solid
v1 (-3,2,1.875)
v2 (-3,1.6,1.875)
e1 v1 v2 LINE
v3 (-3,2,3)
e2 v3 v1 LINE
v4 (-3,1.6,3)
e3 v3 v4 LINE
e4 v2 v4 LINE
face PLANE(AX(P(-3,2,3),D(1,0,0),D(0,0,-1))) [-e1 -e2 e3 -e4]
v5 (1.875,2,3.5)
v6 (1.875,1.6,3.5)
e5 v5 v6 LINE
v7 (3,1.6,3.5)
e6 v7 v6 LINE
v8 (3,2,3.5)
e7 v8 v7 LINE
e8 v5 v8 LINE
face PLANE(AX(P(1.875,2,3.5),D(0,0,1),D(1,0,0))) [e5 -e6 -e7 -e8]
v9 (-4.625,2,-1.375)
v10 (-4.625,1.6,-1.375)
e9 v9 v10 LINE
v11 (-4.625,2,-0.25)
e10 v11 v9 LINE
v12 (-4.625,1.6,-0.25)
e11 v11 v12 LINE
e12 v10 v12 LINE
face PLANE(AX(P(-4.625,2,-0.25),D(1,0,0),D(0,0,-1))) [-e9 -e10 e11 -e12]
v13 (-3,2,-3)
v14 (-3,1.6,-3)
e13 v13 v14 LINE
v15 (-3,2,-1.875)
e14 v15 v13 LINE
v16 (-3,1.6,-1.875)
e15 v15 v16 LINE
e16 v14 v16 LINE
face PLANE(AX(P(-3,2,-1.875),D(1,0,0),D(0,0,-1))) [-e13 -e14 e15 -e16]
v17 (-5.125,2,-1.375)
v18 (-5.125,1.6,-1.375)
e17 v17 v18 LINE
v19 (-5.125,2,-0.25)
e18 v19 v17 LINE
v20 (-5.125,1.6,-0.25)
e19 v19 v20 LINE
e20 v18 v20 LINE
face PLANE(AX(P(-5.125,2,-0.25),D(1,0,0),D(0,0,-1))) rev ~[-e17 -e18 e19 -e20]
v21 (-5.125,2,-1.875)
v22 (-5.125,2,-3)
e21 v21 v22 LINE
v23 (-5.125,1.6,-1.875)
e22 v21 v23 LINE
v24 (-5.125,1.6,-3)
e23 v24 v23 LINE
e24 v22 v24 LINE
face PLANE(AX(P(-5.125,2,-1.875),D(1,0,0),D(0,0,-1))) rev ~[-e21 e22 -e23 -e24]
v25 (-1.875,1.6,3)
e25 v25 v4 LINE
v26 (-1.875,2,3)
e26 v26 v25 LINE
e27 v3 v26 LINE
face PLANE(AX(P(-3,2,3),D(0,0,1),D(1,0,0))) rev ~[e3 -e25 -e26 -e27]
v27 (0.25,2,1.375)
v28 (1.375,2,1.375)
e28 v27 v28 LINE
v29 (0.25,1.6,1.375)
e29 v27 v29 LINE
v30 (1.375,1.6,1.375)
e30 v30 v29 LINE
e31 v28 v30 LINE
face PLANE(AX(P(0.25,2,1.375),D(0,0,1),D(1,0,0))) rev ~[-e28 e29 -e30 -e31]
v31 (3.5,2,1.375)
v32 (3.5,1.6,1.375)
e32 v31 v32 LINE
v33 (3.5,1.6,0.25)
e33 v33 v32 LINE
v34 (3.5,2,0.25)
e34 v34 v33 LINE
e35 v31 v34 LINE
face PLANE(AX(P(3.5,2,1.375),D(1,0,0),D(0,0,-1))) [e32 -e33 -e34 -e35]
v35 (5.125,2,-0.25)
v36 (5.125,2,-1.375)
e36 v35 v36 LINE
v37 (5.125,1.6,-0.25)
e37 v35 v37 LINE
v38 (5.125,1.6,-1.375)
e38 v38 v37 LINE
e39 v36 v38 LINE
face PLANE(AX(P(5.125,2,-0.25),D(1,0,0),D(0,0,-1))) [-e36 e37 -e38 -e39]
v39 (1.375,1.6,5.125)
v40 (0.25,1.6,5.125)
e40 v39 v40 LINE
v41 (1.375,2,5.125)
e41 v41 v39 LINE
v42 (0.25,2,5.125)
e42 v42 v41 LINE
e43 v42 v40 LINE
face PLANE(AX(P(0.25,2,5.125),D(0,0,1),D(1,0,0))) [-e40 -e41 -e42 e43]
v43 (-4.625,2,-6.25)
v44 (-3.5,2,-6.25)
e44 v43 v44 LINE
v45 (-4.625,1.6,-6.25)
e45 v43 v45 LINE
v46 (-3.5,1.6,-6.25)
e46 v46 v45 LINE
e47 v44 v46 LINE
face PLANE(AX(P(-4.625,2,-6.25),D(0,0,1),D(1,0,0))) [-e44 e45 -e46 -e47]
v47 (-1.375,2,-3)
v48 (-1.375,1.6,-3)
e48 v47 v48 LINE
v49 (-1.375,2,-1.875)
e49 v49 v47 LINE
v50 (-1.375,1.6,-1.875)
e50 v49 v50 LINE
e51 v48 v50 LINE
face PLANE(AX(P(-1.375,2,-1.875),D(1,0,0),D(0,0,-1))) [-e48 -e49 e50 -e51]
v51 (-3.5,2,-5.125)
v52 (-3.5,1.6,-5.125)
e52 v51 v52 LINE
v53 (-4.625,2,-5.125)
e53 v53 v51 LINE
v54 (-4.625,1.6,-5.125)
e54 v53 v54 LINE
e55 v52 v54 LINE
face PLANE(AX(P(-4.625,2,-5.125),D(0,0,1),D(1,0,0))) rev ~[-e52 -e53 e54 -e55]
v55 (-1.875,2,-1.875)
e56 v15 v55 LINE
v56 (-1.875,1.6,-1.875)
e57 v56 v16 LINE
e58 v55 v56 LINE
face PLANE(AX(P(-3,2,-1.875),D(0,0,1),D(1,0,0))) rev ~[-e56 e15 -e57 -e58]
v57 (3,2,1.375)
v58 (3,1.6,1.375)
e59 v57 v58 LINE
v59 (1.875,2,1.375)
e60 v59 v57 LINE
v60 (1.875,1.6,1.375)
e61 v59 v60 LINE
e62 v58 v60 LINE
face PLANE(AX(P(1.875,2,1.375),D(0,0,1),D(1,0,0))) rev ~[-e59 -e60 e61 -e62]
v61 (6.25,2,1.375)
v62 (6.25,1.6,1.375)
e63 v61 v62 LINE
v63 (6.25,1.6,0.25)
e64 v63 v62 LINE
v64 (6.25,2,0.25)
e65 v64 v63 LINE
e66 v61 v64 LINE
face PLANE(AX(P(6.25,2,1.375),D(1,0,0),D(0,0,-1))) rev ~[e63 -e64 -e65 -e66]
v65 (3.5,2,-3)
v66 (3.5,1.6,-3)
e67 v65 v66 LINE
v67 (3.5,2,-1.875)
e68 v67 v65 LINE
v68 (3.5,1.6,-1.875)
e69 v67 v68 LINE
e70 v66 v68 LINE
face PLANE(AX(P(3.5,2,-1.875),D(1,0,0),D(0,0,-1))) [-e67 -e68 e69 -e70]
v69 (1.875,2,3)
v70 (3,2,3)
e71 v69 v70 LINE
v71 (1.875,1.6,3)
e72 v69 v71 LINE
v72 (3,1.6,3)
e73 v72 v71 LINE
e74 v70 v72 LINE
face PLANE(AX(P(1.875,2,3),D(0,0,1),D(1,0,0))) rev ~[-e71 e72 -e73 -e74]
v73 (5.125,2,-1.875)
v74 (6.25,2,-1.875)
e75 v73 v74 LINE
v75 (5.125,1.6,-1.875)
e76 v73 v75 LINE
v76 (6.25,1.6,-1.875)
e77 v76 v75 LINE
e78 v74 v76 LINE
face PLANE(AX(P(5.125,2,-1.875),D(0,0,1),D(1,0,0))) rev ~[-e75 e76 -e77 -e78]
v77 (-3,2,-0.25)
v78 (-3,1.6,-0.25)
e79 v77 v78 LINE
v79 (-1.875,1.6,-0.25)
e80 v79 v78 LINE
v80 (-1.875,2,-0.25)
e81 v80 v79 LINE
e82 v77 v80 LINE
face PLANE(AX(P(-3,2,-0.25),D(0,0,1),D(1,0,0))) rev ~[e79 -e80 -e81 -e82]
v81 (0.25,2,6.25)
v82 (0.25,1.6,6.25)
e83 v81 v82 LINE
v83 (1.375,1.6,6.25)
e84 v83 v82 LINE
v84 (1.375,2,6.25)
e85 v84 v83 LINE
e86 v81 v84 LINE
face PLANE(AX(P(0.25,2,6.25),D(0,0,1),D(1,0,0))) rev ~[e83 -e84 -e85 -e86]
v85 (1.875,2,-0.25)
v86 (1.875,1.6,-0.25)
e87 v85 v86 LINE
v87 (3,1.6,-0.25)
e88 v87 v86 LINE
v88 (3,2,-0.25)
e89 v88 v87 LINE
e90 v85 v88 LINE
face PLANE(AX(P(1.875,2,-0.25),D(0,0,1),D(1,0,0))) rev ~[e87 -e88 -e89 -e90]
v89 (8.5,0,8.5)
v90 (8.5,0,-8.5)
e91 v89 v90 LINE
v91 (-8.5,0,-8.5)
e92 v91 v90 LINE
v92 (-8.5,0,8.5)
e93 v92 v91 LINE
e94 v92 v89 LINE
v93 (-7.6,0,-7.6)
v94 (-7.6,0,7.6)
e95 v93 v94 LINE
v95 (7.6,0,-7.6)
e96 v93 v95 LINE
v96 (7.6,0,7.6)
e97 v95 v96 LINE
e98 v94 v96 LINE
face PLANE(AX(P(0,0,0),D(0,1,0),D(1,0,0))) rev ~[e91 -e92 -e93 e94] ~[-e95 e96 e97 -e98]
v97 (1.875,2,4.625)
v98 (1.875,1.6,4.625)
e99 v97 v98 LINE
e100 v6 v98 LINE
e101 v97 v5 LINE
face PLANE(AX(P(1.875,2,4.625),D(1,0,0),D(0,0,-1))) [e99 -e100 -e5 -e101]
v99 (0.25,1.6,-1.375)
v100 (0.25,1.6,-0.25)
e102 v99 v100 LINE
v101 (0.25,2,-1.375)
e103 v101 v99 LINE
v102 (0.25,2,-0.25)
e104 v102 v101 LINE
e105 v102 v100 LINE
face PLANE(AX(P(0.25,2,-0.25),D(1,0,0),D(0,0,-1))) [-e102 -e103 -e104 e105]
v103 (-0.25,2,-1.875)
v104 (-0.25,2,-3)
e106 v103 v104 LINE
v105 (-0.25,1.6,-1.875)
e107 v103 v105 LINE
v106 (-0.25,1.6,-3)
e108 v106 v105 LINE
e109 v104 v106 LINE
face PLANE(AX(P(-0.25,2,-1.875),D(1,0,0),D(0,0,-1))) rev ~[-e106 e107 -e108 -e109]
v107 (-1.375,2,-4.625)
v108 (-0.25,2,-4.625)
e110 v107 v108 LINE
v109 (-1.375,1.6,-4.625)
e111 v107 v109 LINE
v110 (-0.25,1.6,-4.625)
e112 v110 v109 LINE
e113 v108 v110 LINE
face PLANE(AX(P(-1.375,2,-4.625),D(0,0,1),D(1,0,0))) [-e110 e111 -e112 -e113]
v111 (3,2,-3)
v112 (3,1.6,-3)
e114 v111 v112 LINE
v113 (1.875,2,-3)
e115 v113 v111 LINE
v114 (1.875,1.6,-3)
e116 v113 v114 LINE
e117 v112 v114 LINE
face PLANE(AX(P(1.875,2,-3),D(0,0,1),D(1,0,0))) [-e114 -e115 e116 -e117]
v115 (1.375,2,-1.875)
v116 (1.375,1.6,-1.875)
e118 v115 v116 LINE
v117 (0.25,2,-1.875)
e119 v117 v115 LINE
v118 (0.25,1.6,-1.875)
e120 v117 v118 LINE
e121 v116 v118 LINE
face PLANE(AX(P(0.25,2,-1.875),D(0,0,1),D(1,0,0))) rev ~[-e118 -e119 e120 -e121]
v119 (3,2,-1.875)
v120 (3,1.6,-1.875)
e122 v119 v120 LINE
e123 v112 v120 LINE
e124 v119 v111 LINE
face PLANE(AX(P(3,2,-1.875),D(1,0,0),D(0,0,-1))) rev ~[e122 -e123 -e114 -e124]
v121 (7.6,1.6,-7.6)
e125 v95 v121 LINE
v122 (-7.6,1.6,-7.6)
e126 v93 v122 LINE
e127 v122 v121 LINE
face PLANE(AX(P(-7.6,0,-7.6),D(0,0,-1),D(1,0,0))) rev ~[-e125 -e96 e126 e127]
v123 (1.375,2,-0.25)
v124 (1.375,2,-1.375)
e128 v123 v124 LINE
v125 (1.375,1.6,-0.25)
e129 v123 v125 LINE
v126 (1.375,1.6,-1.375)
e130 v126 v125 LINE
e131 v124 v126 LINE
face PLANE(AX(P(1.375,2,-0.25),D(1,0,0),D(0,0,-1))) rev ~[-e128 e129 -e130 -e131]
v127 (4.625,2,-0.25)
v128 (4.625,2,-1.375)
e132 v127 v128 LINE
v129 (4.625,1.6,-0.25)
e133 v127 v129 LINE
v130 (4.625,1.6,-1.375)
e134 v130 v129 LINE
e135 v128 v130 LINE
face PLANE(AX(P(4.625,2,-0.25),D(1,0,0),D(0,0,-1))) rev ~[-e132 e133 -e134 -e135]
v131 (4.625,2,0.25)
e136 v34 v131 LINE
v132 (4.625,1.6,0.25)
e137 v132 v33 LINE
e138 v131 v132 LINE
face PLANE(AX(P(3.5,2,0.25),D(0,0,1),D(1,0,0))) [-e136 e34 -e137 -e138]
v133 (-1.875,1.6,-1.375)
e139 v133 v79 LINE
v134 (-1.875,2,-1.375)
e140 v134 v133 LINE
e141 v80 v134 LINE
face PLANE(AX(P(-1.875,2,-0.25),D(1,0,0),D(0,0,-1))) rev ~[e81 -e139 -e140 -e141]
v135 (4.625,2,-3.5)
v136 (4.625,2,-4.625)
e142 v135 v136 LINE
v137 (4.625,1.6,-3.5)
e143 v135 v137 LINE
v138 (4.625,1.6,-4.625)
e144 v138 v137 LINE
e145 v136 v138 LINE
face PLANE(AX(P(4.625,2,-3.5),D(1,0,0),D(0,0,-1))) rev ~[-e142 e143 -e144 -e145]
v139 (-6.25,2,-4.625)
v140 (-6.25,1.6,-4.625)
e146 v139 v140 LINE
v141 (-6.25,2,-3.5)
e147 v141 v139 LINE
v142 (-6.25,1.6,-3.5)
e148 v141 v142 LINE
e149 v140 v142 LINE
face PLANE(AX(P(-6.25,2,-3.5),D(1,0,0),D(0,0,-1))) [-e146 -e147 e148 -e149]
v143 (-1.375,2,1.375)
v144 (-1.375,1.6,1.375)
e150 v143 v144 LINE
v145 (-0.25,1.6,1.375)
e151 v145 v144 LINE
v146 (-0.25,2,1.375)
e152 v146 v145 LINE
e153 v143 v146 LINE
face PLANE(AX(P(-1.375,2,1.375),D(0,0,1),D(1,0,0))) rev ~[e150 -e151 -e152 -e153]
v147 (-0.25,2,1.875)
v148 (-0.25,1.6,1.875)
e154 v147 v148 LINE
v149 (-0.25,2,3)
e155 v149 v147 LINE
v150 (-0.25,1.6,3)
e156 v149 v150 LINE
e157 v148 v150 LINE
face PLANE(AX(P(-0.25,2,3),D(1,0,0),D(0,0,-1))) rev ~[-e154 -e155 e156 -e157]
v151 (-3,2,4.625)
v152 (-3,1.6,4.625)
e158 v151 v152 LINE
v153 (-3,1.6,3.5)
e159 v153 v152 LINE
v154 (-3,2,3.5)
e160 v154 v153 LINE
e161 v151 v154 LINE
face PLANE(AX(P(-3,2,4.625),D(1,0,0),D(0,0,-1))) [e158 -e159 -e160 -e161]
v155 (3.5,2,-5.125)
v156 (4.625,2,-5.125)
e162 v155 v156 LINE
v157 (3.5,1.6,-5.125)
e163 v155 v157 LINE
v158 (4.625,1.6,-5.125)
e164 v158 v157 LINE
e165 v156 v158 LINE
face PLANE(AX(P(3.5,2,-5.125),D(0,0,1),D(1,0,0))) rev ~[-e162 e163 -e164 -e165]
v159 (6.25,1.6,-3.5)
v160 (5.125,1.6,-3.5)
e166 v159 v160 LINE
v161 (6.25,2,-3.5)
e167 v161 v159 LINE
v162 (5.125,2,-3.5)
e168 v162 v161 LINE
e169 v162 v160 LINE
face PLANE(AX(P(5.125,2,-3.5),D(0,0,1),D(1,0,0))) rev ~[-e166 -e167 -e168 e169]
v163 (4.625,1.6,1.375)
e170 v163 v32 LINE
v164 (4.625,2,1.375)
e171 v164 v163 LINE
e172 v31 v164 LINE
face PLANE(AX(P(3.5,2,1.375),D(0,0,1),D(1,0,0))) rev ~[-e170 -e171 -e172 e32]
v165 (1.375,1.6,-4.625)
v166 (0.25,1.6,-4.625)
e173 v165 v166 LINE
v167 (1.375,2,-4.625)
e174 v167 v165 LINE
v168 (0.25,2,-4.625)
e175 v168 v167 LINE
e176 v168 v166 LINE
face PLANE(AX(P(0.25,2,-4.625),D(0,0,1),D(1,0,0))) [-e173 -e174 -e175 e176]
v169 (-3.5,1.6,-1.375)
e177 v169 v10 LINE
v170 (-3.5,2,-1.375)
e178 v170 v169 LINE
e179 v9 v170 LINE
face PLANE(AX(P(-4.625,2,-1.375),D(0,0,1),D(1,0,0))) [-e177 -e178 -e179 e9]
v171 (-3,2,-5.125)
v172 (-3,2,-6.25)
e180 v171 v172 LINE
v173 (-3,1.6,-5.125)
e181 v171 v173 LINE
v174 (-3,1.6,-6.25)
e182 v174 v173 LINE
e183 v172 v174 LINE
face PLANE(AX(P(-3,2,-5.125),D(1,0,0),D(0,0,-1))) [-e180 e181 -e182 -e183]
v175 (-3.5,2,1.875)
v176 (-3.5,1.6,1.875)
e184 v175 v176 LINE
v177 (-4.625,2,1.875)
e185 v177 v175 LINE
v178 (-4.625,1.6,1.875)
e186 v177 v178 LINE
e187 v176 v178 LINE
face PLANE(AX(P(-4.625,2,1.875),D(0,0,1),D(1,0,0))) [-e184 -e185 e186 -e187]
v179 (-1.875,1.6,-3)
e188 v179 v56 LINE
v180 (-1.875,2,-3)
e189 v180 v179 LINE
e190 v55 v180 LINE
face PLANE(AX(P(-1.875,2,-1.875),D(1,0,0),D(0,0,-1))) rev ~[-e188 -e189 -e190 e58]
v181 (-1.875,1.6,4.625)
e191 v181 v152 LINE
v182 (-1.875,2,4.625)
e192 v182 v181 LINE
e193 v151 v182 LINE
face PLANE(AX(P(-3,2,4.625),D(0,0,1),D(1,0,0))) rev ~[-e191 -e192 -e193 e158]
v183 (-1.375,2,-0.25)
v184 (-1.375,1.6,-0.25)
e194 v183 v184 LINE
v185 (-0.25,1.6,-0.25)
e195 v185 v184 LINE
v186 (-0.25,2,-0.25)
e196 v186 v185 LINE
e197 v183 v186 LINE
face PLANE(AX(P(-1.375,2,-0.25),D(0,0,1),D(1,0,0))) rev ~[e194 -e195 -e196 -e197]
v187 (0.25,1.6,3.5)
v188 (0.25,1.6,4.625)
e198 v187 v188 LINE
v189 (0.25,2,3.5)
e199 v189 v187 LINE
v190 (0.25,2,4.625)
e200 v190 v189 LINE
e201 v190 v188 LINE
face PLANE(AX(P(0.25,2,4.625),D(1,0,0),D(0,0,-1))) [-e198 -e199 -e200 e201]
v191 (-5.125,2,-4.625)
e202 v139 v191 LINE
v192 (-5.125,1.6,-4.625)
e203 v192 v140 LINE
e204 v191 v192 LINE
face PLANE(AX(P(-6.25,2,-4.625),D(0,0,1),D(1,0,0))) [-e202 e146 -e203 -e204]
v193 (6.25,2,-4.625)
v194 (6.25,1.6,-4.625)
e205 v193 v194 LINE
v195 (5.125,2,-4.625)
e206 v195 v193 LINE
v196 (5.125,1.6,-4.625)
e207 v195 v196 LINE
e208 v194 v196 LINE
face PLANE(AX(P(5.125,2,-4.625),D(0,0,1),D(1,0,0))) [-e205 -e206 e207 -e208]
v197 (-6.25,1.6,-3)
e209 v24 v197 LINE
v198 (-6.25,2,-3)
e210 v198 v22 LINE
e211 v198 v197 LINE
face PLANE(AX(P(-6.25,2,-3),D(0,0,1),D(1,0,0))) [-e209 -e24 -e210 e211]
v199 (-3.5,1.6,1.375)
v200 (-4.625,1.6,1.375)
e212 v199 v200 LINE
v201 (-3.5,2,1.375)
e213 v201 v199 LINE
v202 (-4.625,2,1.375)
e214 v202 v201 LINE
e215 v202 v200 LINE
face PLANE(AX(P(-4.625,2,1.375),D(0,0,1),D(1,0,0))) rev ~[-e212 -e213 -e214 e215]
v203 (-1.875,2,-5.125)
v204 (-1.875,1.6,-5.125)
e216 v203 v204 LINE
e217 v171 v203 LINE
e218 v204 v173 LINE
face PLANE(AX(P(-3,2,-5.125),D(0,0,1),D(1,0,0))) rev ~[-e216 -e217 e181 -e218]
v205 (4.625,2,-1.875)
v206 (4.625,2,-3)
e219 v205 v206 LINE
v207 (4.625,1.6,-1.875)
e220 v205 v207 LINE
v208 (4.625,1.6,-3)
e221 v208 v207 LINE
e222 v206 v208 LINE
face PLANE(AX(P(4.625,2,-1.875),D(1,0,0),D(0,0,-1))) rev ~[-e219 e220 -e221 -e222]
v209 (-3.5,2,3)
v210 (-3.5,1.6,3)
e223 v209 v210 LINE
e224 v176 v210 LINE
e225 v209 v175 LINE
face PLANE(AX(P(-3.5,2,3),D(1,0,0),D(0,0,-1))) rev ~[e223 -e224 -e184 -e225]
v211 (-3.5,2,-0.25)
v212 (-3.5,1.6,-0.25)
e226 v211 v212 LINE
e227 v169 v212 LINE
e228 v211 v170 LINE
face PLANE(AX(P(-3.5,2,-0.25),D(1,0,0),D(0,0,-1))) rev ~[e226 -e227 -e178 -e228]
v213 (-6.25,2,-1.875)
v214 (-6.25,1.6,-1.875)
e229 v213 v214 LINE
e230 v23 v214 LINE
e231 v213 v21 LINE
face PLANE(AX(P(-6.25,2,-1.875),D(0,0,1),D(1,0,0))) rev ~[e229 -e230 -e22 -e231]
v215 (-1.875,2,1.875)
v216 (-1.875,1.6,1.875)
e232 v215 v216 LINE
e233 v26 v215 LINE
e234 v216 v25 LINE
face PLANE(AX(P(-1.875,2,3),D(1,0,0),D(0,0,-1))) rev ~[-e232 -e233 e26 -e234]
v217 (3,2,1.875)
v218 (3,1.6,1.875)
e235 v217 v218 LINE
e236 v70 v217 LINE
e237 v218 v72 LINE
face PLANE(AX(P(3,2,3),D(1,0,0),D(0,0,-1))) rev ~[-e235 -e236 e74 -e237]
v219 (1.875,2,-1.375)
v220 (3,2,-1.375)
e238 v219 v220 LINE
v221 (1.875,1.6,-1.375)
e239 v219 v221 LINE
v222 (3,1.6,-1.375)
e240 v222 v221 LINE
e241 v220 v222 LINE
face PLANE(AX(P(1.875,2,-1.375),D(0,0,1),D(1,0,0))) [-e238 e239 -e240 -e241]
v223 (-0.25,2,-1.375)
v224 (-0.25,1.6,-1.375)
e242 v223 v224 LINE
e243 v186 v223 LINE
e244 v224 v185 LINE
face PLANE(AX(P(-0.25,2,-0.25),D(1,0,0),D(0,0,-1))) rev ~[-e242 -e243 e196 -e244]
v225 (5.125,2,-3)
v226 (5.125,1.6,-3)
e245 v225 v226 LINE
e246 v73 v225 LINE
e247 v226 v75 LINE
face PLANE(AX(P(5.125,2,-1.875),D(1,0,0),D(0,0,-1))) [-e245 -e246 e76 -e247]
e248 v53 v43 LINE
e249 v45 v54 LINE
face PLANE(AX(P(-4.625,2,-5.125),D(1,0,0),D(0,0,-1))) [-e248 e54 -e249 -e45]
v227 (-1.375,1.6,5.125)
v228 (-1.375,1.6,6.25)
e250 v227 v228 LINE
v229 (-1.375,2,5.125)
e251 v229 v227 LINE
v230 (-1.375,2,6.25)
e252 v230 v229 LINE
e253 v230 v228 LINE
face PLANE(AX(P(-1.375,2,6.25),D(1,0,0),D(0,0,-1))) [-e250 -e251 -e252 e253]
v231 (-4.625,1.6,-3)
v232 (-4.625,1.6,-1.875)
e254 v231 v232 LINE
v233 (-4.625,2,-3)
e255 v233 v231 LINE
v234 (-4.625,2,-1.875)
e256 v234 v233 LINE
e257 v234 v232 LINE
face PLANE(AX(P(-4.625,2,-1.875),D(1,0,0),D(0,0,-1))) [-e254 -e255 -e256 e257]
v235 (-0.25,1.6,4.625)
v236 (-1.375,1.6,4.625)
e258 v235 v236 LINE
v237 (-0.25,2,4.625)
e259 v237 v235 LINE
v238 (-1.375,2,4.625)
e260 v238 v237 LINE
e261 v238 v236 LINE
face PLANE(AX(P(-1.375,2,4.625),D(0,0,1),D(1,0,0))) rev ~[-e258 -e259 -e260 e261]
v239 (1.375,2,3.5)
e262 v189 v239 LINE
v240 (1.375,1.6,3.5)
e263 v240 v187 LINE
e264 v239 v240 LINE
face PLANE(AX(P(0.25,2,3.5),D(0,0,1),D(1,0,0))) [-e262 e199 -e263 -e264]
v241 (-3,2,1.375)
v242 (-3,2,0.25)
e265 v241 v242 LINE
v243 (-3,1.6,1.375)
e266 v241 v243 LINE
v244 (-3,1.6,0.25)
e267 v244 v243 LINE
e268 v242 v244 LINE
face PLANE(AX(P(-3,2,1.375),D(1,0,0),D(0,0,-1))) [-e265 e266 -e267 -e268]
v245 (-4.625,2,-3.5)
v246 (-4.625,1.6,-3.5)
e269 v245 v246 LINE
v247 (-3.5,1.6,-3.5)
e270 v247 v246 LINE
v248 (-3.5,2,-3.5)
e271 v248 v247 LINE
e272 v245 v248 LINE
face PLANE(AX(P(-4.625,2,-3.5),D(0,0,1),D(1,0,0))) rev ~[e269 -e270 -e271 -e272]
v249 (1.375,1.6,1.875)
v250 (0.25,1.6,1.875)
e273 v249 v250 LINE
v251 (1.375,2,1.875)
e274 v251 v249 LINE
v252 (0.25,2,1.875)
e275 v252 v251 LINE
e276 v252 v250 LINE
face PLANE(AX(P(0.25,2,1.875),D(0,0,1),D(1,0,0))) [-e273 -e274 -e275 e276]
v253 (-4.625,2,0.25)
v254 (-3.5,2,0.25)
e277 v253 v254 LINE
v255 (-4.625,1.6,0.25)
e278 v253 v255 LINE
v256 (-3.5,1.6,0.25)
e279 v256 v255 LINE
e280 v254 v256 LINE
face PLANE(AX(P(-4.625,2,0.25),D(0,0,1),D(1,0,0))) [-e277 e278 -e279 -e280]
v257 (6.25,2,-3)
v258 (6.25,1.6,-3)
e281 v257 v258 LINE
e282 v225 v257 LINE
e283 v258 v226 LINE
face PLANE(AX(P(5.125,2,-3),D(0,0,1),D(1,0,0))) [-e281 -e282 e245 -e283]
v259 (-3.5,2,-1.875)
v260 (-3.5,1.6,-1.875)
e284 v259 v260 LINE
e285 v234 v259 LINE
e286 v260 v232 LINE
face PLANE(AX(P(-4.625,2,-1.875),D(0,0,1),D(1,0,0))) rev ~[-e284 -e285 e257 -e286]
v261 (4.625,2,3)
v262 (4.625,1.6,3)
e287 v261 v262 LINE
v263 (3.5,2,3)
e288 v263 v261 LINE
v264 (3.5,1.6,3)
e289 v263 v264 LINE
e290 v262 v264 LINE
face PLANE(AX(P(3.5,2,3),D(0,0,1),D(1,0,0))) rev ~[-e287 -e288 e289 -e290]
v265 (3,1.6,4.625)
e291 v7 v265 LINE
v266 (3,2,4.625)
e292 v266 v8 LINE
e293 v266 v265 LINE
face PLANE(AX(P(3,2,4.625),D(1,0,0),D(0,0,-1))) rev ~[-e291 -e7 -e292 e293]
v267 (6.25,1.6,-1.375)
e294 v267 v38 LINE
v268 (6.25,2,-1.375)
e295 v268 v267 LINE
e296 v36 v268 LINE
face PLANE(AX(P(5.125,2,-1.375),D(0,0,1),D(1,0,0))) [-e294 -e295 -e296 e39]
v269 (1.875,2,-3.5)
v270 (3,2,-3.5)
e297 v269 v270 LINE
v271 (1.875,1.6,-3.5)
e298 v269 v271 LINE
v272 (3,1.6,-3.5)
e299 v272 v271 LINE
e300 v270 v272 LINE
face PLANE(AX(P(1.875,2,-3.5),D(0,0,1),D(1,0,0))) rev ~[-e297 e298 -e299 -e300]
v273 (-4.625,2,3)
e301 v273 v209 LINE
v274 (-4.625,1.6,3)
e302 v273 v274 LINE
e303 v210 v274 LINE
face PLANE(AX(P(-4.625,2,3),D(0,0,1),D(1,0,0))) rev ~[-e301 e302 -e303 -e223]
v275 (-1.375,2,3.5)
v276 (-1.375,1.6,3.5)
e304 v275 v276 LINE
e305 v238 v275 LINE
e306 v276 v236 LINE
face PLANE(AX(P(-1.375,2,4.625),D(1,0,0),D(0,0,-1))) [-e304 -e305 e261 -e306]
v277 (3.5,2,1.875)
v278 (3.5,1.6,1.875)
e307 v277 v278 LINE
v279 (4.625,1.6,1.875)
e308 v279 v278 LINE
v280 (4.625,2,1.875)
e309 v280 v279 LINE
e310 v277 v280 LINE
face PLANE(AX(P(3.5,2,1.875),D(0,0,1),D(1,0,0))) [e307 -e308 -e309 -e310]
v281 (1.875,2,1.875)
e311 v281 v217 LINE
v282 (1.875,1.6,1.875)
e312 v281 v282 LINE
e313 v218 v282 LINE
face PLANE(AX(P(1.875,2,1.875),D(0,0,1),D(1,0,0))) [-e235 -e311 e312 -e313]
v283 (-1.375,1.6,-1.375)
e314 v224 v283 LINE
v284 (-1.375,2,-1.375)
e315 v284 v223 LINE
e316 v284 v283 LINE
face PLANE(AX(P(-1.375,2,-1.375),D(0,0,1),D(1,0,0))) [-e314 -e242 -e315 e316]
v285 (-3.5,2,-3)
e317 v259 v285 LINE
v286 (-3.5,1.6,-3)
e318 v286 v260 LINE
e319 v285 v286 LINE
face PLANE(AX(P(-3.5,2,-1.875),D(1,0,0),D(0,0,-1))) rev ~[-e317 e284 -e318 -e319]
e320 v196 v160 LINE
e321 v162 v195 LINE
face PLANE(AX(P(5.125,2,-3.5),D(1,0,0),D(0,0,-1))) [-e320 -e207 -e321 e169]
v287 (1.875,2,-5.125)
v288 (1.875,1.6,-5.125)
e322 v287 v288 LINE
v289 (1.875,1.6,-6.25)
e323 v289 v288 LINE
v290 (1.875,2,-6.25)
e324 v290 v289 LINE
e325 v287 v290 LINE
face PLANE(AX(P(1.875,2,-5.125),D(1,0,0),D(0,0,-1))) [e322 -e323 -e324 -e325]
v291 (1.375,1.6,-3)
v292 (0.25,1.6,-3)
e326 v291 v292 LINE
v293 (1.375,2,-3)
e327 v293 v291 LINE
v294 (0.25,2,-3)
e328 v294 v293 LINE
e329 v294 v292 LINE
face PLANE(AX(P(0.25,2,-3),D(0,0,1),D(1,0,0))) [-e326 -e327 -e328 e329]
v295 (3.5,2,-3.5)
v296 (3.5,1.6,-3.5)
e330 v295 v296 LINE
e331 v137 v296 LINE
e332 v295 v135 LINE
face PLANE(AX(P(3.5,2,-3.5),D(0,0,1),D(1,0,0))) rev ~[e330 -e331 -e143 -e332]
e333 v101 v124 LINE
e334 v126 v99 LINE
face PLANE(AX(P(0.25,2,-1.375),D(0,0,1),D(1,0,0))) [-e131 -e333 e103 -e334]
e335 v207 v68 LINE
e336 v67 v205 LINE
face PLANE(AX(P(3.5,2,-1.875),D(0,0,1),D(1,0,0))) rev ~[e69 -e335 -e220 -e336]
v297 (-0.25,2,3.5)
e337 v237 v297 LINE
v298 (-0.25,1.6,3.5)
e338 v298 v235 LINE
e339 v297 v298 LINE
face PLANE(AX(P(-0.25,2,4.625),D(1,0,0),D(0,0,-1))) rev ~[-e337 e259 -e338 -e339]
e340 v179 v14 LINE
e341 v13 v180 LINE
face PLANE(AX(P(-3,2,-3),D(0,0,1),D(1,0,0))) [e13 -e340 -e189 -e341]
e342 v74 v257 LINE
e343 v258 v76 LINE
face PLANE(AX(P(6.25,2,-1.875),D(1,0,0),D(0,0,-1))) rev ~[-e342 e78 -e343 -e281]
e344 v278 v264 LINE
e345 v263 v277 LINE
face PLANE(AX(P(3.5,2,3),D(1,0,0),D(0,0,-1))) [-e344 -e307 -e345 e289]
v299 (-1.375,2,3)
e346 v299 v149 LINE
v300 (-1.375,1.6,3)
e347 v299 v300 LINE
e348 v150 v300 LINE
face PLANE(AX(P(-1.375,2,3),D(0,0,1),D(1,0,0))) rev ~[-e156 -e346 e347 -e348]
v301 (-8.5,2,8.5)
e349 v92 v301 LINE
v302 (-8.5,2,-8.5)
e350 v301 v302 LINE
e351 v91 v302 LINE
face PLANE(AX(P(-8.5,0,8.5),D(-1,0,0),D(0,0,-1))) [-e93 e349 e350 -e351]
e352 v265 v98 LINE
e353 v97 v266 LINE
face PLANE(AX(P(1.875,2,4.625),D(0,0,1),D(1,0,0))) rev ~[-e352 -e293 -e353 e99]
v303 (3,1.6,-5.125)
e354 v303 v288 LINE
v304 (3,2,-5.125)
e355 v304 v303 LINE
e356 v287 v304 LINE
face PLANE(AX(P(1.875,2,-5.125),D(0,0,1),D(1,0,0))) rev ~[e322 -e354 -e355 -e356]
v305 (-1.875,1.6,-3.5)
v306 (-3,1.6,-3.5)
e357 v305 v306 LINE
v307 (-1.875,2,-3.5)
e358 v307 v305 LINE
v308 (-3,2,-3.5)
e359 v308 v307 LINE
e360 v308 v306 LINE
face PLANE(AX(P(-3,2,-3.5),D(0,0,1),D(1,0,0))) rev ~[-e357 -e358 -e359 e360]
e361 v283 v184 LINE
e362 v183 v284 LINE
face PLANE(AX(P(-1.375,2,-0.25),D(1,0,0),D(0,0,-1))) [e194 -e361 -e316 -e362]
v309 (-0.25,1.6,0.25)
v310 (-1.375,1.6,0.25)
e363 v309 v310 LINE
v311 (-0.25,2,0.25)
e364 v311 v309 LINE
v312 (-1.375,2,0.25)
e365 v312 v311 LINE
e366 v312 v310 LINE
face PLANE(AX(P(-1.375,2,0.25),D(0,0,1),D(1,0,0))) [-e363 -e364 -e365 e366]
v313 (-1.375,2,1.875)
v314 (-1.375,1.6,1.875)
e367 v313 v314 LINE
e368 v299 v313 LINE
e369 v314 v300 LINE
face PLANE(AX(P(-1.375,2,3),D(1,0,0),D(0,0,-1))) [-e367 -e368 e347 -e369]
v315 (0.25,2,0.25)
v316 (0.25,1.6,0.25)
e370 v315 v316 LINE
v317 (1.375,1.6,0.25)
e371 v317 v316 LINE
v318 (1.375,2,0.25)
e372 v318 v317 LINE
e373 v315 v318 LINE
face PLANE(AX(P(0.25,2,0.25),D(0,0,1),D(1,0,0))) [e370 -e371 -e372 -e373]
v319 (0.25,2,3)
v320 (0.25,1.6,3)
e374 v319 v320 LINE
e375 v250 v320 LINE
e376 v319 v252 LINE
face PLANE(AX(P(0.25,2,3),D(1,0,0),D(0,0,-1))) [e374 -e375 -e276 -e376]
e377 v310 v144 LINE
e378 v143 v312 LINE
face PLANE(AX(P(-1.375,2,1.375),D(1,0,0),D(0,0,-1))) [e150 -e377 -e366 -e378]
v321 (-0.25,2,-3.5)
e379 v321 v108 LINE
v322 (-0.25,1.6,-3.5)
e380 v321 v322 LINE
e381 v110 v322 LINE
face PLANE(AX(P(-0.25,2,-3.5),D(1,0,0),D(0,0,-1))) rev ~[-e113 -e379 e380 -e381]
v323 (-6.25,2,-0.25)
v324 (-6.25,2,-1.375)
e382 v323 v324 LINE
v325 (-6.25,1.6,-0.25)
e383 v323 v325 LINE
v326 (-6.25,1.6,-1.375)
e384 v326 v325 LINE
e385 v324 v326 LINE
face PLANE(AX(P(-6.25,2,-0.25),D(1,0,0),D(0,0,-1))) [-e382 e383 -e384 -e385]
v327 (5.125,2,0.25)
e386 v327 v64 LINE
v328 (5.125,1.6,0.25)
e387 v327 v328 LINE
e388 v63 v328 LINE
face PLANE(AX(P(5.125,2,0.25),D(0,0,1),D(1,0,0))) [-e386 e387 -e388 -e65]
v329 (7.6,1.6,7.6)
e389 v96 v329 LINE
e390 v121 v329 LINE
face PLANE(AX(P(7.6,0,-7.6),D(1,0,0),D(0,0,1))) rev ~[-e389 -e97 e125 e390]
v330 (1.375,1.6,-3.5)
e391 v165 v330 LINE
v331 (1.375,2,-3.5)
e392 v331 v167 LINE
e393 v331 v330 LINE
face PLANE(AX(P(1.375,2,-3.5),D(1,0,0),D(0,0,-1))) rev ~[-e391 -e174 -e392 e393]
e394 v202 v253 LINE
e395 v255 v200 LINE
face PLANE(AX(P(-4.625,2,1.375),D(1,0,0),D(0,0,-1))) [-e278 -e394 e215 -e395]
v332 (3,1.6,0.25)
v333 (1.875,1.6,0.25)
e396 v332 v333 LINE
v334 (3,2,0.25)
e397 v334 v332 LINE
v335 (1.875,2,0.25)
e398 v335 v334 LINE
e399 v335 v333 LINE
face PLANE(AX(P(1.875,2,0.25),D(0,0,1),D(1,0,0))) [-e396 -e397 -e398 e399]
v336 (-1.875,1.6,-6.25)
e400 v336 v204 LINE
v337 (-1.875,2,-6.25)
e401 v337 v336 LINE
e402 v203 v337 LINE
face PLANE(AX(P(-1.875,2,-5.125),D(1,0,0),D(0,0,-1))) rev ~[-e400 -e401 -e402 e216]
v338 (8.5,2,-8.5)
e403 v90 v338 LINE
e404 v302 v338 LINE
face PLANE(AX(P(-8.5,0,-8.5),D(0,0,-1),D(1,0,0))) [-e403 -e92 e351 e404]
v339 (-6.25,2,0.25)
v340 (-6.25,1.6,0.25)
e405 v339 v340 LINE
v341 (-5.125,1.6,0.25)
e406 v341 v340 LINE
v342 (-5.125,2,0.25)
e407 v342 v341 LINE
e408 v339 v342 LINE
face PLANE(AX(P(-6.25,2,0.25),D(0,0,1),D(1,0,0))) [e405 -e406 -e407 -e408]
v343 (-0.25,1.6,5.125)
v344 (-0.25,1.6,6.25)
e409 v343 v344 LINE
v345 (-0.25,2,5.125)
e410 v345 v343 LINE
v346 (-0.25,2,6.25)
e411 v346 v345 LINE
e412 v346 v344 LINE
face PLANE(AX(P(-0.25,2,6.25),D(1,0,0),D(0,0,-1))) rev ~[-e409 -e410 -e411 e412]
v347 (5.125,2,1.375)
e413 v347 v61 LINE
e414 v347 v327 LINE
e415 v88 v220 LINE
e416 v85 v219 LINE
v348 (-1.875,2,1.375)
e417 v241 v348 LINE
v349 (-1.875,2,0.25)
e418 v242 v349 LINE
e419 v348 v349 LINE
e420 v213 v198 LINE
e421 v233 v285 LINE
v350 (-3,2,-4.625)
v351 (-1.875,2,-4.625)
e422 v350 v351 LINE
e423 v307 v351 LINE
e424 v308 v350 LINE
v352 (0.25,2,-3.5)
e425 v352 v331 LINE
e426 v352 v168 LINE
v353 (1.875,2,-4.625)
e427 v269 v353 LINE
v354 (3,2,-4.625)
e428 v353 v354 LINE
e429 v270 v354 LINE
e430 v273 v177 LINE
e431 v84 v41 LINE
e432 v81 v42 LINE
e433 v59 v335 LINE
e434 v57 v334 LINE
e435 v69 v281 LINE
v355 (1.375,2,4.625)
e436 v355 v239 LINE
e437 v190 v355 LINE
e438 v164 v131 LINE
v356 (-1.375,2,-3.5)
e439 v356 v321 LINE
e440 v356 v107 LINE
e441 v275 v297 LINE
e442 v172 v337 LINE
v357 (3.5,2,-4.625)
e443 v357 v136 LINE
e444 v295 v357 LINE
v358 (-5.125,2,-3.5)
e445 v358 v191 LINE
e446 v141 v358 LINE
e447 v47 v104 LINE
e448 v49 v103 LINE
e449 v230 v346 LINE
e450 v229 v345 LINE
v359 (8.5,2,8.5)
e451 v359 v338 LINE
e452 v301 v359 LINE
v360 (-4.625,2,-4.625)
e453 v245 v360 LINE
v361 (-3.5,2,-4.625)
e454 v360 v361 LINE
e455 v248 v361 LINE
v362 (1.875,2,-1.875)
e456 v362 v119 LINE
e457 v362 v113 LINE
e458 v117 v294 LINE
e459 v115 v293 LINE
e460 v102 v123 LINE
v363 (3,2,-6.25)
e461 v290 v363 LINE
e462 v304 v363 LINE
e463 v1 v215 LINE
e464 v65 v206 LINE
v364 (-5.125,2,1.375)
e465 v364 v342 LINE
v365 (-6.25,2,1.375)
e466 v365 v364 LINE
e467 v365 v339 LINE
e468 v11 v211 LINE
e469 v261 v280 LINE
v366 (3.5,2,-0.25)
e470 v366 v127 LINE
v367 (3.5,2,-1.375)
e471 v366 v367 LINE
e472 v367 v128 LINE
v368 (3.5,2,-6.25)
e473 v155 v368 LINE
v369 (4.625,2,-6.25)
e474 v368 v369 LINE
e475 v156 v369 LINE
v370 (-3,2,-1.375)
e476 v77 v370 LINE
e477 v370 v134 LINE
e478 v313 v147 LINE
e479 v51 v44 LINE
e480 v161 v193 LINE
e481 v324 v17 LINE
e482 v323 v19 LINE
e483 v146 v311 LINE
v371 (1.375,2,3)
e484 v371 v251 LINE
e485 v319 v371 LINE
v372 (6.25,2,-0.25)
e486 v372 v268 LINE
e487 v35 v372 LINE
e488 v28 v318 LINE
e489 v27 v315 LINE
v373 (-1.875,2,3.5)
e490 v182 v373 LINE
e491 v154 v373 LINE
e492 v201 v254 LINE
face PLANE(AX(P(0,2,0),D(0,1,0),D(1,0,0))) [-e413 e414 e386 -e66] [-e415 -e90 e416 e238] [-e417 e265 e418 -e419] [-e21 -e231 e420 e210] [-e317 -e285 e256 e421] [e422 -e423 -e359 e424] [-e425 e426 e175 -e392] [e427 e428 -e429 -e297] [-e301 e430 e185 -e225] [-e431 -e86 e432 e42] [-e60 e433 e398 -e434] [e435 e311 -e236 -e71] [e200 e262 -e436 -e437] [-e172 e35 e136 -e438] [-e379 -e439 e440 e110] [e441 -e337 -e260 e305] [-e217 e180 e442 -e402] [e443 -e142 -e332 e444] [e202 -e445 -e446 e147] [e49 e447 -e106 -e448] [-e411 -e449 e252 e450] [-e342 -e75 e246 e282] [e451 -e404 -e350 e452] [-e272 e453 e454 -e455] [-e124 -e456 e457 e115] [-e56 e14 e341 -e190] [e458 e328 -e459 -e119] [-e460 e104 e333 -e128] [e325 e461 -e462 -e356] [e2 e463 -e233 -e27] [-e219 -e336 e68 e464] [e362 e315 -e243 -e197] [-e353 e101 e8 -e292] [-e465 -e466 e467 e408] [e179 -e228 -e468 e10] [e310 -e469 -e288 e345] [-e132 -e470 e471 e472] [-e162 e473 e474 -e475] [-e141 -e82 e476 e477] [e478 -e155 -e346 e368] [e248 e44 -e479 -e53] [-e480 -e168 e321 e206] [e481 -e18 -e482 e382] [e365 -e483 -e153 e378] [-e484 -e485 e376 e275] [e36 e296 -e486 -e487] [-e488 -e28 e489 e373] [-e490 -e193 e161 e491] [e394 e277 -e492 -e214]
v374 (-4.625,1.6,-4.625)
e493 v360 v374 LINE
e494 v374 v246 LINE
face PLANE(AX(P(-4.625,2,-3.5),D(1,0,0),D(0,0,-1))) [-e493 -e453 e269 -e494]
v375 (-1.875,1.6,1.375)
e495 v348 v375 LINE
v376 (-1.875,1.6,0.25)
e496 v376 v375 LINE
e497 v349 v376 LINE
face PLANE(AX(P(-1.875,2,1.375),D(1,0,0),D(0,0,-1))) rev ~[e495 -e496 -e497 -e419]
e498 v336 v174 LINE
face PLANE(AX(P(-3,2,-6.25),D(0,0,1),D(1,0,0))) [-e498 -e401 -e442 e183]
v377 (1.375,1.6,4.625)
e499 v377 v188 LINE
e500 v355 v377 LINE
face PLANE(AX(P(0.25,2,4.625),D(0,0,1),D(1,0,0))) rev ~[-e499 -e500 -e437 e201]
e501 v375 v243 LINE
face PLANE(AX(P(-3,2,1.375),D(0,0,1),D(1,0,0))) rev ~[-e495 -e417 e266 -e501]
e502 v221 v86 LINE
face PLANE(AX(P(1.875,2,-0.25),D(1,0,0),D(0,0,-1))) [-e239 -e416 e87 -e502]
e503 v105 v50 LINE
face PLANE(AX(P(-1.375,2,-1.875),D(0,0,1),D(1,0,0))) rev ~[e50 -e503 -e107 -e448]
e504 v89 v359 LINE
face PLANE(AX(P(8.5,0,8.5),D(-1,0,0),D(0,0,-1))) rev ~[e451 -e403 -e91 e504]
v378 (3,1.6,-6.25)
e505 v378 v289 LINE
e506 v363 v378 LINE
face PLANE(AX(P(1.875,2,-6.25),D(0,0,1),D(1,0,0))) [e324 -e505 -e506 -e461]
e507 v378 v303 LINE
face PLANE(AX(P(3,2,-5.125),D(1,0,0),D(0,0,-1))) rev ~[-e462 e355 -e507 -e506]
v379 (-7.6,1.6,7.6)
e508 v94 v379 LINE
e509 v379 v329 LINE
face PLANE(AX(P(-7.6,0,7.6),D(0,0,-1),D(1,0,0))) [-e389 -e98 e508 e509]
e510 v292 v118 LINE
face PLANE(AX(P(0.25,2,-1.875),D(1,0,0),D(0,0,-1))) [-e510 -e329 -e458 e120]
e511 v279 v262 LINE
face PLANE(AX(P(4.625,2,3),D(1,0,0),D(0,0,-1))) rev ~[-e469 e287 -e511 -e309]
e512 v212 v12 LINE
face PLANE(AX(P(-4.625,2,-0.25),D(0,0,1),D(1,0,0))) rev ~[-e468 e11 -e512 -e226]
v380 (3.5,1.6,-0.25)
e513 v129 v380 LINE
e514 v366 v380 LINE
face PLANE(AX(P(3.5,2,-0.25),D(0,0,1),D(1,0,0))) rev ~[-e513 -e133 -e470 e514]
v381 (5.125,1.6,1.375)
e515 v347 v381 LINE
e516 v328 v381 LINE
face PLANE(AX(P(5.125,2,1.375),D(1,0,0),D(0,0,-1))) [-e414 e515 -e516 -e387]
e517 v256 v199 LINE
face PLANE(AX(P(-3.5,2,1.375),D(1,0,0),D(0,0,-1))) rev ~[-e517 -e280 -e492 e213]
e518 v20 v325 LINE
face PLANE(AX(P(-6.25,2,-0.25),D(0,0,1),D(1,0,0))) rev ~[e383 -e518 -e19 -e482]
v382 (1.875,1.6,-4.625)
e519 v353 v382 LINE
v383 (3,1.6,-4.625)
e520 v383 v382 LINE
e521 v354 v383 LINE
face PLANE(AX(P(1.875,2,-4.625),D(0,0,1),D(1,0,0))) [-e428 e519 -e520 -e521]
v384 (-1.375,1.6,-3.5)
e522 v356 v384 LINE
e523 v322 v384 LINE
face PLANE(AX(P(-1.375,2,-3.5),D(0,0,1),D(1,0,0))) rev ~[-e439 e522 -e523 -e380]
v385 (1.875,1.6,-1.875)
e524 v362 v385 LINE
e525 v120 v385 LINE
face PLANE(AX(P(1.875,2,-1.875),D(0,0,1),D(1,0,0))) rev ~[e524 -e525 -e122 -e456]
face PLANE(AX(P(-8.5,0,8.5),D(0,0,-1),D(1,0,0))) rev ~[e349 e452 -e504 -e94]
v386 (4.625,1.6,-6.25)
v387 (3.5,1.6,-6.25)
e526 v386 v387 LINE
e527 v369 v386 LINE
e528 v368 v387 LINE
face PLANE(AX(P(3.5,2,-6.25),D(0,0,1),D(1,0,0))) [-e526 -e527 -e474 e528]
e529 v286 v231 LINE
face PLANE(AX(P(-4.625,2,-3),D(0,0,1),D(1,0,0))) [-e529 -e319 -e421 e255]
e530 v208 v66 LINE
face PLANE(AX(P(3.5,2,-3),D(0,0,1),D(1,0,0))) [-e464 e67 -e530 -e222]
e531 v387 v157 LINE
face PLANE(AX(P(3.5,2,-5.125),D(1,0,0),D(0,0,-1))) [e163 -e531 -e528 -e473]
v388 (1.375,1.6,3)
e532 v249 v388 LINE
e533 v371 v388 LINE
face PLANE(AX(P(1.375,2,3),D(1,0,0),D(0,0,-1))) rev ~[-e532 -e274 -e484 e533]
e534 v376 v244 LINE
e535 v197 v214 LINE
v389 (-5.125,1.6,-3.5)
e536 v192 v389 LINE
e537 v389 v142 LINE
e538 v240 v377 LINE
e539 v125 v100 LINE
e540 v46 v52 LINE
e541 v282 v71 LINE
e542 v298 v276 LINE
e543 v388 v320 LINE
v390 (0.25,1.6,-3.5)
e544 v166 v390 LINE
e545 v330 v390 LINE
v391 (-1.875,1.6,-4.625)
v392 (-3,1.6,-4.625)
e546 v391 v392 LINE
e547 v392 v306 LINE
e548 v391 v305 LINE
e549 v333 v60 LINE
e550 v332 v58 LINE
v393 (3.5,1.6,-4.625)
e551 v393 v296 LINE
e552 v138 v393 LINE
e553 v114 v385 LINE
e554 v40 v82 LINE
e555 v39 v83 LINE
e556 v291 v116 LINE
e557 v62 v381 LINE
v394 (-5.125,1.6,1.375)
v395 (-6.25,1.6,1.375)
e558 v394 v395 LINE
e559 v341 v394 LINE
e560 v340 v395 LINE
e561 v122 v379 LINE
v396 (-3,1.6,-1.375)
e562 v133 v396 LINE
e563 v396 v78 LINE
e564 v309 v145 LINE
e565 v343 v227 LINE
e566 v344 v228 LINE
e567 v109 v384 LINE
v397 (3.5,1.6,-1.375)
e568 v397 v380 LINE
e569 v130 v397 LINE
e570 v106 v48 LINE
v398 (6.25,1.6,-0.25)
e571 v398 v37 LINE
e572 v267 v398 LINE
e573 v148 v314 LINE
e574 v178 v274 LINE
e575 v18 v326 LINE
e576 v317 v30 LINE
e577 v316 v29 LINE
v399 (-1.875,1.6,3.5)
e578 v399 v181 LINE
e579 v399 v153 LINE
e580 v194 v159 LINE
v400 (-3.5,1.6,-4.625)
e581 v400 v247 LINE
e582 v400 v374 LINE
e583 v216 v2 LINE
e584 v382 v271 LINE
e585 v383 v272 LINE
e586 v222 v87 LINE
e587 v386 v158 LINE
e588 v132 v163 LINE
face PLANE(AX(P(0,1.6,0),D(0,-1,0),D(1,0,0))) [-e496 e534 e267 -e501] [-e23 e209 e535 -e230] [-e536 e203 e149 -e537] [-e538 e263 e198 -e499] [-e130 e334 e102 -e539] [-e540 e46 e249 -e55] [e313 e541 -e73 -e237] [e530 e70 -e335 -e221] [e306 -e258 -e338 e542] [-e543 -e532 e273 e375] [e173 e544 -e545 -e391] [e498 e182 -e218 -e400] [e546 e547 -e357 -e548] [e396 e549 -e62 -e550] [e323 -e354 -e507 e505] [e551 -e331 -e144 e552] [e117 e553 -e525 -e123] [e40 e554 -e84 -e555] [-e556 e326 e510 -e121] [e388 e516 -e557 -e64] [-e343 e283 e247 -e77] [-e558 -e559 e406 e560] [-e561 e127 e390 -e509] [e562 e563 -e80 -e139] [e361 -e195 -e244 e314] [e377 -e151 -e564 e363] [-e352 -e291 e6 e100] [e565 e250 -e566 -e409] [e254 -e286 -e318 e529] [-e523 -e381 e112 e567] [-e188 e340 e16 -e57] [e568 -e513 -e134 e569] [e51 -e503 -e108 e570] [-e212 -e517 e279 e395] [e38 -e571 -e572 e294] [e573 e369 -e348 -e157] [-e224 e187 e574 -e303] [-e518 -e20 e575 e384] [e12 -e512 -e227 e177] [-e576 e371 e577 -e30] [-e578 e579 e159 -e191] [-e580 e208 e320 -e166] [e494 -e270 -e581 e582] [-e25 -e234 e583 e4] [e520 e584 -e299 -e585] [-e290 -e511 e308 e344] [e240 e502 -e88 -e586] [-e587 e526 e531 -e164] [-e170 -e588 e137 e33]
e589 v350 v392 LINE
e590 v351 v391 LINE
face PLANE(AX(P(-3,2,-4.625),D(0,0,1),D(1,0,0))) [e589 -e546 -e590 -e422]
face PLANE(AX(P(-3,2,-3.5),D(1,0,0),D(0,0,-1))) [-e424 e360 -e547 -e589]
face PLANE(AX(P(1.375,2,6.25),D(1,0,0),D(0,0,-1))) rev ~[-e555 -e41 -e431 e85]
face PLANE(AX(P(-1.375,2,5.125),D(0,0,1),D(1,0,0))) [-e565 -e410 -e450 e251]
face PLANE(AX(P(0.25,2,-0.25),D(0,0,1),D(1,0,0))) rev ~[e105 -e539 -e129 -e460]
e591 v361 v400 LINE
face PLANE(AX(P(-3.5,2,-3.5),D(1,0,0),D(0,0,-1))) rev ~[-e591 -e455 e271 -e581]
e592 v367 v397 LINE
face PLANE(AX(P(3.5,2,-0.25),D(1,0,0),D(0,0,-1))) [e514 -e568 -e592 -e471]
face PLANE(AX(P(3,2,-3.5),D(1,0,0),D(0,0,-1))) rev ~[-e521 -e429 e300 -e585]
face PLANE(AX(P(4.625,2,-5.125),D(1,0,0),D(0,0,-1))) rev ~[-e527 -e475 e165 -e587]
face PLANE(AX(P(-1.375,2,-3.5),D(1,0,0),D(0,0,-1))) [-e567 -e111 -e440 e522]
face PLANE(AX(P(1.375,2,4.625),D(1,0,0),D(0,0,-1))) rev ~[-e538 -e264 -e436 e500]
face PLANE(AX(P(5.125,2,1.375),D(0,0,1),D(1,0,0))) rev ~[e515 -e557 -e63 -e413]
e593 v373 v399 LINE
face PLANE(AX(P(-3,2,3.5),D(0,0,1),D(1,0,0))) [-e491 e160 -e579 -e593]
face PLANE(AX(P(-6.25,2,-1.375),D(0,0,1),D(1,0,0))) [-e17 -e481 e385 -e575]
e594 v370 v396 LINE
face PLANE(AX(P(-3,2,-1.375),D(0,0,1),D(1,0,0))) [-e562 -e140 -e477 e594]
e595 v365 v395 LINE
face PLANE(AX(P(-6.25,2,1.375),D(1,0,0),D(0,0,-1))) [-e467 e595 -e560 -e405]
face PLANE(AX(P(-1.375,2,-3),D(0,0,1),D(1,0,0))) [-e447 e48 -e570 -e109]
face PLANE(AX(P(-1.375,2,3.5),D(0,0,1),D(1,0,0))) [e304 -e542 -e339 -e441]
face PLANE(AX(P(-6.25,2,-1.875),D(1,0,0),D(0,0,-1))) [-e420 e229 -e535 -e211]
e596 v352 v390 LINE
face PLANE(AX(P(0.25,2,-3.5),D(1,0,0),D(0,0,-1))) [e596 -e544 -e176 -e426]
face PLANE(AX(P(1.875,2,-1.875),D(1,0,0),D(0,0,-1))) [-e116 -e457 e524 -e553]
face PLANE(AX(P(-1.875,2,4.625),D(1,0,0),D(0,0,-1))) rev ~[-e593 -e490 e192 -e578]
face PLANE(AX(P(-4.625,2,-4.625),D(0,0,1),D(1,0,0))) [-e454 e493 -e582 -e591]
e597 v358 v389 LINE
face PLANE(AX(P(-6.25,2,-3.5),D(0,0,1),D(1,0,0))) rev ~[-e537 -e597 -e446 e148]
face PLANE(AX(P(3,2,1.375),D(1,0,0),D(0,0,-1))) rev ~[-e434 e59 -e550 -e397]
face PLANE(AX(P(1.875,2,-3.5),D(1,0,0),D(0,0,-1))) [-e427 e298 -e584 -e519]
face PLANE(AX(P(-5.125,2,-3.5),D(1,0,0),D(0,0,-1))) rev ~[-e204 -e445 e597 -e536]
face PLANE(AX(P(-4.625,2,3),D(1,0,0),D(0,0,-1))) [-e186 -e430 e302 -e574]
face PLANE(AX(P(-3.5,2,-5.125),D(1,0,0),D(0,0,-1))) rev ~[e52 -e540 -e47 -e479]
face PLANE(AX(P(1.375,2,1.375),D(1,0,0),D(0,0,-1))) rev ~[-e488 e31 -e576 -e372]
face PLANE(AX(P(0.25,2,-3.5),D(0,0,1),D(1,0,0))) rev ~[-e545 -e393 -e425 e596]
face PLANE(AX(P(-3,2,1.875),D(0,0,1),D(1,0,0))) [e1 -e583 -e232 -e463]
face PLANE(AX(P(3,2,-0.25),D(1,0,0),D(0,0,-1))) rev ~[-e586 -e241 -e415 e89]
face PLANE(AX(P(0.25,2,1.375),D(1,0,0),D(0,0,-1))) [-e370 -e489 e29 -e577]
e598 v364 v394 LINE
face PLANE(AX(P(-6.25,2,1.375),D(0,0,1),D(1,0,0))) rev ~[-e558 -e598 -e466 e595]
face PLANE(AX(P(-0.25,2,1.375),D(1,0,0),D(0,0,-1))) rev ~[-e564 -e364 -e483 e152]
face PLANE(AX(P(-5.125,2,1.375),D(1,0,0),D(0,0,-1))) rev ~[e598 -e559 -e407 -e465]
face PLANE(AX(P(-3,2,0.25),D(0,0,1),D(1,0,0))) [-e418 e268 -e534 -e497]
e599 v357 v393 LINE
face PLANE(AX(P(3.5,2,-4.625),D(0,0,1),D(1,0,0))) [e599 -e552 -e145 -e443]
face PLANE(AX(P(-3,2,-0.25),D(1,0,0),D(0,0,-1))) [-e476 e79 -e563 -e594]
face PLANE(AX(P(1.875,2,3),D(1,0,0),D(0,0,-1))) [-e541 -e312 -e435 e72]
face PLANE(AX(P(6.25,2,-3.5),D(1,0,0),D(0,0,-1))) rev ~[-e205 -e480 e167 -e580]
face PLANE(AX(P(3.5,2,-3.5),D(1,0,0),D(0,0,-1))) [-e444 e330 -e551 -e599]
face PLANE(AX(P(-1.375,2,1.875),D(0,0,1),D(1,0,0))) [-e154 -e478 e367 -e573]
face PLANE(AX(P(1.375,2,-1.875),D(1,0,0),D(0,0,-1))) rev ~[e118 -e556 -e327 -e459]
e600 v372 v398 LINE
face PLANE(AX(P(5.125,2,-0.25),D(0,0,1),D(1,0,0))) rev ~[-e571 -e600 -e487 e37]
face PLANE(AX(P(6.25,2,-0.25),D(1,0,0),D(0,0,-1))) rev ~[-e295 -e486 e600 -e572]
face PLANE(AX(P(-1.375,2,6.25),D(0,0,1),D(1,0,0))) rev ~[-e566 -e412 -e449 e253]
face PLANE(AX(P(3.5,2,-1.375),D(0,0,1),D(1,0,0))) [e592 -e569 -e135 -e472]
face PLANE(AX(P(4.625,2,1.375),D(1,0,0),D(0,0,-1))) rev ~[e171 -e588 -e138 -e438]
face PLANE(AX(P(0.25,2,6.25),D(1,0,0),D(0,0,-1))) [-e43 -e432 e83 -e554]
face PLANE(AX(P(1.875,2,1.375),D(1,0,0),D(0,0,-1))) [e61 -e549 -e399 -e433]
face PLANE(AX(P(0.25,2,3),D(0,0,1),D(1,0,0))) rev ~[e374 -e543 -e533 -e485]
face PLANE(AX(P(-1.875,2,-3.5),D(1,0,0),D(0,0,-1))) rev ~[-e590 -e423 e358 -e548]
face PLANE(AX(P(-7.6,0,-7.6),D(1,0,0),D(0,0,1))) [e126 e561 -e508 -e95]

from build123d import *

# Parameters (mm, degrees)
SKETCH1_W           = 17
SKETCH1_H           = 17
BOSS_EXTRUDE1_DEPTH = 2
SKETCH2_W           = 15.2
SKETCH2_H           = 15.2
CUT_EXTRUDE1_DEPTH  = 1.6
SKETCH3_W           = 1.125
SKETCH3_H           = 1.125
CUT_EXTRUDE2_DEPTH  = 3


with BuildPart() as part:
    # Sketch1 → Boss-Extrude1 (new body)
    with BuildSketch(Plane(origin=(0, 0, 0), x_dir=(1, 0, 0), z_dir=(0, 1, 0))):
        Rectangle(SKETCH1_W, SKETCH1_H)
    extrude(amount=BOSS_EXTRUDE1_DEPTH)

    # Sketch2 → Cut-Extrude1 (cut)
    with BuildSketch(Plane.XZ):
        Rectangle(SKETCH2_W, SKETCH2_H)
    extrude(amount=-CUT_EXTRUDE1_DEPTH, mode=Mode.SUBTRACT)

    # Sketch3 → Cut-Extrude2 (cut, through all)
    with BuildSketch(Plane(origin=(0, 2, 0), x_dir=(1, 0, 0), z_dir=(0, 1, 0))):
        with Locations((-4.0625, 5.6875)):
            Rectangle(SKETCH3_W, SKETCH3_H)
        with Locations((-2.4375, 5.6875)):
            Rectangle(SKETCH3_W, SKETCH3_H)
        with Locations((2.4375, 5.6875)):
            Rectangle(SKETCH3_W, SKETCH3_H)
        with Locations((4.0625, 5.6875)):
            Rectangle(SKETCH3_W, SKETCH3_H)
        with Locations((5.6875, 4.0625)):
            Rectangle(SKETCH3_W, SKETCH3_H)
        with Locations((5.6875, 2.4375)):
            Rectangle(SKETCH3_W, SKETCH3_H)
        with Locations((5.6875, 0.8125)):
            Rectangle(SKETCH3_W, SKETCH3_H)
        with Locations((-5.6875, 4.0625)):
            Rectangle(SKETCH3_W, SKETCH3_H)
        with Locations((-5.6875, 2.4375)):
            Rectangle(SKETCH3_W, SKETCH3_H)
        with Locations((-5.6875, 0.8125)):
            Rectangle(SKETCH3_W, SKETCH3_H)
        with Locations((-4.0625, -0.8125)):
            Rectangle(SKETCH3_W, SKETCH3_H)
        with Locations((-2.4375, -2.4375)):
            Rectangle(SKETCH3_W, SKETCH3_H)
        with Locations((-0.8125, -4.0625)):
            Rectangle(SKETCH3_W, SKETCH3_H)
        with Locations((0.8125, -4.0625)):
            Rectangle(SKETCH3_W, SKETCH3_H)
        with Locations((2.4375, -2.4375)):
            Rectangle(SKETCH3_W, SKETCH3_H)
        with Locations((4.0625, -0.8125)):
            Rectangle(SKETCH3_W, SKETCH3_H)
        with Locations((-0.8125, 4.0625)):
            Rectangle(SKETCH3_W, SKETCH3_H)
        with Locations((0.8125, 4.0625)):
            Rectangle(SKETCH3_W, SKETCH3_H)
        with Locations((-4.0625, 4.0625)):
            Rectangle(SKETCH3_W, SKETCH3_H)
        with Locations((-4.0625, 2.4375)):
            Rectangle(SKETCH3_W, SKETCH3_H)
        with Locations((-2.4375, 0.8125)):
            Rectangle(SKETCH3_W, SKETCH3_H)
        with Locations((-2.4375, 2.4375)):
            Rectangle(SKETCH3_W, SKETCH3_H)
        with Locations((-2.4375, 4.0625)):
            Rectangle(SKETCH3_W, SKETCH3_H)
        with Locations((-0.8125, 2.4375)):
            Rectangle(SKETCH3_W, SKETCH3_H)
        with Locations((0.8125, 2.4375)):
            Rectangle(SKETCH3_W, SKETCH3_H)
        with Locations((2.4375, 0.8125)):
            Rectangle(SKETCH3_W, SKETCH3_H)
        with Locations((2.4375, 2.4375)):
            Rectangle(SKETCH3_W, SKETCH3_H)
        with Locations((2.4375, 4.0625)):
            Rectangle(SKETCH3_W, SKETCH3_H)
        with Locations((4.0625, 2.4375)):
            Rectangle(SKETCH3_W, SKETCH3_H)
        with Locations((4.0625, 0.8125)):
            Rectangle(SKETCH3_W, SKETCH3_H)
        with Locations((2.4375, -0.8125)):
            Rectangle(SKETCH3_W, SKETCH3_H)
        with Locations((0.8125, -0.8125)):
            Rectangle(SKETCH3_W, SKETCH3_H)
        with Locations((-2.4375, -0.8125)):
            Rectangle(SKETCH3_W, SKETCH3_H)
        with Locations((-0.8125, -2.4375)):
            Rectangle(SKETCH3_W, SKETCH3_H)
        with Locations((0.8125, -2.4375)):
            Rectangle(SKETCH3_W, SKETCH3_H)
        with Locations((-0.8125, -0.8125)):
            Rectangle(SKETCH3_W, SKETCH3_H)
        with Locations((-4.0625, 0.8125)):
            Rectangle(SKETCH3_W, SKETCH3_H)
        with Locations((-0.8125, 0.8125)):
            Rectangle(SKETCH3_W, SKETCH3_H)
        with Locations((0.8125, 0.8125)):
            Rectangle(SKETCH3_W, SKETCH3_H)
        with Locations((4.0625, 4.0625)):
            Rectangle(SKETCH3_W, SKETCH3_H)
        with Locations((5.6875, -0.8125)):
            Rectangle(SKETCH3_W, SKETCH3_H)
        with Locations((4.0625, -2.4375)):
            Rectangle(SKETCH3_W, SKETCH3_H)
        with Locations((2.4375, -4.0625)):
            Rectangle(SKETCH3_W, SKETCH3_H)
        with Locations((0.8125, -5.6875)):
            Rectangle(SKETCH3_W, SKETCH3_H)
        with Locations((-0.8125, -5.6875)):
            Rectangle(SKETCH3_W, SKETCH3_H)
        with Locations((-2.4375, -4.0625)):
            Rectangle(SKETCH3_W, SKETCH3_H)
        with Locations((-4.0625, -2.4375)):
            Rectangle(SKETCH3_W, SKETCH3_H)
        with Locations((-5.6875, -0.8125)):
            Rectangle(SKETCH3_W, SKETCH3_H)
    extrude(amount=-CUT_EXTRUDE2_DEPTH, mode=Mode.SUBTRACT)


solid = part.part
